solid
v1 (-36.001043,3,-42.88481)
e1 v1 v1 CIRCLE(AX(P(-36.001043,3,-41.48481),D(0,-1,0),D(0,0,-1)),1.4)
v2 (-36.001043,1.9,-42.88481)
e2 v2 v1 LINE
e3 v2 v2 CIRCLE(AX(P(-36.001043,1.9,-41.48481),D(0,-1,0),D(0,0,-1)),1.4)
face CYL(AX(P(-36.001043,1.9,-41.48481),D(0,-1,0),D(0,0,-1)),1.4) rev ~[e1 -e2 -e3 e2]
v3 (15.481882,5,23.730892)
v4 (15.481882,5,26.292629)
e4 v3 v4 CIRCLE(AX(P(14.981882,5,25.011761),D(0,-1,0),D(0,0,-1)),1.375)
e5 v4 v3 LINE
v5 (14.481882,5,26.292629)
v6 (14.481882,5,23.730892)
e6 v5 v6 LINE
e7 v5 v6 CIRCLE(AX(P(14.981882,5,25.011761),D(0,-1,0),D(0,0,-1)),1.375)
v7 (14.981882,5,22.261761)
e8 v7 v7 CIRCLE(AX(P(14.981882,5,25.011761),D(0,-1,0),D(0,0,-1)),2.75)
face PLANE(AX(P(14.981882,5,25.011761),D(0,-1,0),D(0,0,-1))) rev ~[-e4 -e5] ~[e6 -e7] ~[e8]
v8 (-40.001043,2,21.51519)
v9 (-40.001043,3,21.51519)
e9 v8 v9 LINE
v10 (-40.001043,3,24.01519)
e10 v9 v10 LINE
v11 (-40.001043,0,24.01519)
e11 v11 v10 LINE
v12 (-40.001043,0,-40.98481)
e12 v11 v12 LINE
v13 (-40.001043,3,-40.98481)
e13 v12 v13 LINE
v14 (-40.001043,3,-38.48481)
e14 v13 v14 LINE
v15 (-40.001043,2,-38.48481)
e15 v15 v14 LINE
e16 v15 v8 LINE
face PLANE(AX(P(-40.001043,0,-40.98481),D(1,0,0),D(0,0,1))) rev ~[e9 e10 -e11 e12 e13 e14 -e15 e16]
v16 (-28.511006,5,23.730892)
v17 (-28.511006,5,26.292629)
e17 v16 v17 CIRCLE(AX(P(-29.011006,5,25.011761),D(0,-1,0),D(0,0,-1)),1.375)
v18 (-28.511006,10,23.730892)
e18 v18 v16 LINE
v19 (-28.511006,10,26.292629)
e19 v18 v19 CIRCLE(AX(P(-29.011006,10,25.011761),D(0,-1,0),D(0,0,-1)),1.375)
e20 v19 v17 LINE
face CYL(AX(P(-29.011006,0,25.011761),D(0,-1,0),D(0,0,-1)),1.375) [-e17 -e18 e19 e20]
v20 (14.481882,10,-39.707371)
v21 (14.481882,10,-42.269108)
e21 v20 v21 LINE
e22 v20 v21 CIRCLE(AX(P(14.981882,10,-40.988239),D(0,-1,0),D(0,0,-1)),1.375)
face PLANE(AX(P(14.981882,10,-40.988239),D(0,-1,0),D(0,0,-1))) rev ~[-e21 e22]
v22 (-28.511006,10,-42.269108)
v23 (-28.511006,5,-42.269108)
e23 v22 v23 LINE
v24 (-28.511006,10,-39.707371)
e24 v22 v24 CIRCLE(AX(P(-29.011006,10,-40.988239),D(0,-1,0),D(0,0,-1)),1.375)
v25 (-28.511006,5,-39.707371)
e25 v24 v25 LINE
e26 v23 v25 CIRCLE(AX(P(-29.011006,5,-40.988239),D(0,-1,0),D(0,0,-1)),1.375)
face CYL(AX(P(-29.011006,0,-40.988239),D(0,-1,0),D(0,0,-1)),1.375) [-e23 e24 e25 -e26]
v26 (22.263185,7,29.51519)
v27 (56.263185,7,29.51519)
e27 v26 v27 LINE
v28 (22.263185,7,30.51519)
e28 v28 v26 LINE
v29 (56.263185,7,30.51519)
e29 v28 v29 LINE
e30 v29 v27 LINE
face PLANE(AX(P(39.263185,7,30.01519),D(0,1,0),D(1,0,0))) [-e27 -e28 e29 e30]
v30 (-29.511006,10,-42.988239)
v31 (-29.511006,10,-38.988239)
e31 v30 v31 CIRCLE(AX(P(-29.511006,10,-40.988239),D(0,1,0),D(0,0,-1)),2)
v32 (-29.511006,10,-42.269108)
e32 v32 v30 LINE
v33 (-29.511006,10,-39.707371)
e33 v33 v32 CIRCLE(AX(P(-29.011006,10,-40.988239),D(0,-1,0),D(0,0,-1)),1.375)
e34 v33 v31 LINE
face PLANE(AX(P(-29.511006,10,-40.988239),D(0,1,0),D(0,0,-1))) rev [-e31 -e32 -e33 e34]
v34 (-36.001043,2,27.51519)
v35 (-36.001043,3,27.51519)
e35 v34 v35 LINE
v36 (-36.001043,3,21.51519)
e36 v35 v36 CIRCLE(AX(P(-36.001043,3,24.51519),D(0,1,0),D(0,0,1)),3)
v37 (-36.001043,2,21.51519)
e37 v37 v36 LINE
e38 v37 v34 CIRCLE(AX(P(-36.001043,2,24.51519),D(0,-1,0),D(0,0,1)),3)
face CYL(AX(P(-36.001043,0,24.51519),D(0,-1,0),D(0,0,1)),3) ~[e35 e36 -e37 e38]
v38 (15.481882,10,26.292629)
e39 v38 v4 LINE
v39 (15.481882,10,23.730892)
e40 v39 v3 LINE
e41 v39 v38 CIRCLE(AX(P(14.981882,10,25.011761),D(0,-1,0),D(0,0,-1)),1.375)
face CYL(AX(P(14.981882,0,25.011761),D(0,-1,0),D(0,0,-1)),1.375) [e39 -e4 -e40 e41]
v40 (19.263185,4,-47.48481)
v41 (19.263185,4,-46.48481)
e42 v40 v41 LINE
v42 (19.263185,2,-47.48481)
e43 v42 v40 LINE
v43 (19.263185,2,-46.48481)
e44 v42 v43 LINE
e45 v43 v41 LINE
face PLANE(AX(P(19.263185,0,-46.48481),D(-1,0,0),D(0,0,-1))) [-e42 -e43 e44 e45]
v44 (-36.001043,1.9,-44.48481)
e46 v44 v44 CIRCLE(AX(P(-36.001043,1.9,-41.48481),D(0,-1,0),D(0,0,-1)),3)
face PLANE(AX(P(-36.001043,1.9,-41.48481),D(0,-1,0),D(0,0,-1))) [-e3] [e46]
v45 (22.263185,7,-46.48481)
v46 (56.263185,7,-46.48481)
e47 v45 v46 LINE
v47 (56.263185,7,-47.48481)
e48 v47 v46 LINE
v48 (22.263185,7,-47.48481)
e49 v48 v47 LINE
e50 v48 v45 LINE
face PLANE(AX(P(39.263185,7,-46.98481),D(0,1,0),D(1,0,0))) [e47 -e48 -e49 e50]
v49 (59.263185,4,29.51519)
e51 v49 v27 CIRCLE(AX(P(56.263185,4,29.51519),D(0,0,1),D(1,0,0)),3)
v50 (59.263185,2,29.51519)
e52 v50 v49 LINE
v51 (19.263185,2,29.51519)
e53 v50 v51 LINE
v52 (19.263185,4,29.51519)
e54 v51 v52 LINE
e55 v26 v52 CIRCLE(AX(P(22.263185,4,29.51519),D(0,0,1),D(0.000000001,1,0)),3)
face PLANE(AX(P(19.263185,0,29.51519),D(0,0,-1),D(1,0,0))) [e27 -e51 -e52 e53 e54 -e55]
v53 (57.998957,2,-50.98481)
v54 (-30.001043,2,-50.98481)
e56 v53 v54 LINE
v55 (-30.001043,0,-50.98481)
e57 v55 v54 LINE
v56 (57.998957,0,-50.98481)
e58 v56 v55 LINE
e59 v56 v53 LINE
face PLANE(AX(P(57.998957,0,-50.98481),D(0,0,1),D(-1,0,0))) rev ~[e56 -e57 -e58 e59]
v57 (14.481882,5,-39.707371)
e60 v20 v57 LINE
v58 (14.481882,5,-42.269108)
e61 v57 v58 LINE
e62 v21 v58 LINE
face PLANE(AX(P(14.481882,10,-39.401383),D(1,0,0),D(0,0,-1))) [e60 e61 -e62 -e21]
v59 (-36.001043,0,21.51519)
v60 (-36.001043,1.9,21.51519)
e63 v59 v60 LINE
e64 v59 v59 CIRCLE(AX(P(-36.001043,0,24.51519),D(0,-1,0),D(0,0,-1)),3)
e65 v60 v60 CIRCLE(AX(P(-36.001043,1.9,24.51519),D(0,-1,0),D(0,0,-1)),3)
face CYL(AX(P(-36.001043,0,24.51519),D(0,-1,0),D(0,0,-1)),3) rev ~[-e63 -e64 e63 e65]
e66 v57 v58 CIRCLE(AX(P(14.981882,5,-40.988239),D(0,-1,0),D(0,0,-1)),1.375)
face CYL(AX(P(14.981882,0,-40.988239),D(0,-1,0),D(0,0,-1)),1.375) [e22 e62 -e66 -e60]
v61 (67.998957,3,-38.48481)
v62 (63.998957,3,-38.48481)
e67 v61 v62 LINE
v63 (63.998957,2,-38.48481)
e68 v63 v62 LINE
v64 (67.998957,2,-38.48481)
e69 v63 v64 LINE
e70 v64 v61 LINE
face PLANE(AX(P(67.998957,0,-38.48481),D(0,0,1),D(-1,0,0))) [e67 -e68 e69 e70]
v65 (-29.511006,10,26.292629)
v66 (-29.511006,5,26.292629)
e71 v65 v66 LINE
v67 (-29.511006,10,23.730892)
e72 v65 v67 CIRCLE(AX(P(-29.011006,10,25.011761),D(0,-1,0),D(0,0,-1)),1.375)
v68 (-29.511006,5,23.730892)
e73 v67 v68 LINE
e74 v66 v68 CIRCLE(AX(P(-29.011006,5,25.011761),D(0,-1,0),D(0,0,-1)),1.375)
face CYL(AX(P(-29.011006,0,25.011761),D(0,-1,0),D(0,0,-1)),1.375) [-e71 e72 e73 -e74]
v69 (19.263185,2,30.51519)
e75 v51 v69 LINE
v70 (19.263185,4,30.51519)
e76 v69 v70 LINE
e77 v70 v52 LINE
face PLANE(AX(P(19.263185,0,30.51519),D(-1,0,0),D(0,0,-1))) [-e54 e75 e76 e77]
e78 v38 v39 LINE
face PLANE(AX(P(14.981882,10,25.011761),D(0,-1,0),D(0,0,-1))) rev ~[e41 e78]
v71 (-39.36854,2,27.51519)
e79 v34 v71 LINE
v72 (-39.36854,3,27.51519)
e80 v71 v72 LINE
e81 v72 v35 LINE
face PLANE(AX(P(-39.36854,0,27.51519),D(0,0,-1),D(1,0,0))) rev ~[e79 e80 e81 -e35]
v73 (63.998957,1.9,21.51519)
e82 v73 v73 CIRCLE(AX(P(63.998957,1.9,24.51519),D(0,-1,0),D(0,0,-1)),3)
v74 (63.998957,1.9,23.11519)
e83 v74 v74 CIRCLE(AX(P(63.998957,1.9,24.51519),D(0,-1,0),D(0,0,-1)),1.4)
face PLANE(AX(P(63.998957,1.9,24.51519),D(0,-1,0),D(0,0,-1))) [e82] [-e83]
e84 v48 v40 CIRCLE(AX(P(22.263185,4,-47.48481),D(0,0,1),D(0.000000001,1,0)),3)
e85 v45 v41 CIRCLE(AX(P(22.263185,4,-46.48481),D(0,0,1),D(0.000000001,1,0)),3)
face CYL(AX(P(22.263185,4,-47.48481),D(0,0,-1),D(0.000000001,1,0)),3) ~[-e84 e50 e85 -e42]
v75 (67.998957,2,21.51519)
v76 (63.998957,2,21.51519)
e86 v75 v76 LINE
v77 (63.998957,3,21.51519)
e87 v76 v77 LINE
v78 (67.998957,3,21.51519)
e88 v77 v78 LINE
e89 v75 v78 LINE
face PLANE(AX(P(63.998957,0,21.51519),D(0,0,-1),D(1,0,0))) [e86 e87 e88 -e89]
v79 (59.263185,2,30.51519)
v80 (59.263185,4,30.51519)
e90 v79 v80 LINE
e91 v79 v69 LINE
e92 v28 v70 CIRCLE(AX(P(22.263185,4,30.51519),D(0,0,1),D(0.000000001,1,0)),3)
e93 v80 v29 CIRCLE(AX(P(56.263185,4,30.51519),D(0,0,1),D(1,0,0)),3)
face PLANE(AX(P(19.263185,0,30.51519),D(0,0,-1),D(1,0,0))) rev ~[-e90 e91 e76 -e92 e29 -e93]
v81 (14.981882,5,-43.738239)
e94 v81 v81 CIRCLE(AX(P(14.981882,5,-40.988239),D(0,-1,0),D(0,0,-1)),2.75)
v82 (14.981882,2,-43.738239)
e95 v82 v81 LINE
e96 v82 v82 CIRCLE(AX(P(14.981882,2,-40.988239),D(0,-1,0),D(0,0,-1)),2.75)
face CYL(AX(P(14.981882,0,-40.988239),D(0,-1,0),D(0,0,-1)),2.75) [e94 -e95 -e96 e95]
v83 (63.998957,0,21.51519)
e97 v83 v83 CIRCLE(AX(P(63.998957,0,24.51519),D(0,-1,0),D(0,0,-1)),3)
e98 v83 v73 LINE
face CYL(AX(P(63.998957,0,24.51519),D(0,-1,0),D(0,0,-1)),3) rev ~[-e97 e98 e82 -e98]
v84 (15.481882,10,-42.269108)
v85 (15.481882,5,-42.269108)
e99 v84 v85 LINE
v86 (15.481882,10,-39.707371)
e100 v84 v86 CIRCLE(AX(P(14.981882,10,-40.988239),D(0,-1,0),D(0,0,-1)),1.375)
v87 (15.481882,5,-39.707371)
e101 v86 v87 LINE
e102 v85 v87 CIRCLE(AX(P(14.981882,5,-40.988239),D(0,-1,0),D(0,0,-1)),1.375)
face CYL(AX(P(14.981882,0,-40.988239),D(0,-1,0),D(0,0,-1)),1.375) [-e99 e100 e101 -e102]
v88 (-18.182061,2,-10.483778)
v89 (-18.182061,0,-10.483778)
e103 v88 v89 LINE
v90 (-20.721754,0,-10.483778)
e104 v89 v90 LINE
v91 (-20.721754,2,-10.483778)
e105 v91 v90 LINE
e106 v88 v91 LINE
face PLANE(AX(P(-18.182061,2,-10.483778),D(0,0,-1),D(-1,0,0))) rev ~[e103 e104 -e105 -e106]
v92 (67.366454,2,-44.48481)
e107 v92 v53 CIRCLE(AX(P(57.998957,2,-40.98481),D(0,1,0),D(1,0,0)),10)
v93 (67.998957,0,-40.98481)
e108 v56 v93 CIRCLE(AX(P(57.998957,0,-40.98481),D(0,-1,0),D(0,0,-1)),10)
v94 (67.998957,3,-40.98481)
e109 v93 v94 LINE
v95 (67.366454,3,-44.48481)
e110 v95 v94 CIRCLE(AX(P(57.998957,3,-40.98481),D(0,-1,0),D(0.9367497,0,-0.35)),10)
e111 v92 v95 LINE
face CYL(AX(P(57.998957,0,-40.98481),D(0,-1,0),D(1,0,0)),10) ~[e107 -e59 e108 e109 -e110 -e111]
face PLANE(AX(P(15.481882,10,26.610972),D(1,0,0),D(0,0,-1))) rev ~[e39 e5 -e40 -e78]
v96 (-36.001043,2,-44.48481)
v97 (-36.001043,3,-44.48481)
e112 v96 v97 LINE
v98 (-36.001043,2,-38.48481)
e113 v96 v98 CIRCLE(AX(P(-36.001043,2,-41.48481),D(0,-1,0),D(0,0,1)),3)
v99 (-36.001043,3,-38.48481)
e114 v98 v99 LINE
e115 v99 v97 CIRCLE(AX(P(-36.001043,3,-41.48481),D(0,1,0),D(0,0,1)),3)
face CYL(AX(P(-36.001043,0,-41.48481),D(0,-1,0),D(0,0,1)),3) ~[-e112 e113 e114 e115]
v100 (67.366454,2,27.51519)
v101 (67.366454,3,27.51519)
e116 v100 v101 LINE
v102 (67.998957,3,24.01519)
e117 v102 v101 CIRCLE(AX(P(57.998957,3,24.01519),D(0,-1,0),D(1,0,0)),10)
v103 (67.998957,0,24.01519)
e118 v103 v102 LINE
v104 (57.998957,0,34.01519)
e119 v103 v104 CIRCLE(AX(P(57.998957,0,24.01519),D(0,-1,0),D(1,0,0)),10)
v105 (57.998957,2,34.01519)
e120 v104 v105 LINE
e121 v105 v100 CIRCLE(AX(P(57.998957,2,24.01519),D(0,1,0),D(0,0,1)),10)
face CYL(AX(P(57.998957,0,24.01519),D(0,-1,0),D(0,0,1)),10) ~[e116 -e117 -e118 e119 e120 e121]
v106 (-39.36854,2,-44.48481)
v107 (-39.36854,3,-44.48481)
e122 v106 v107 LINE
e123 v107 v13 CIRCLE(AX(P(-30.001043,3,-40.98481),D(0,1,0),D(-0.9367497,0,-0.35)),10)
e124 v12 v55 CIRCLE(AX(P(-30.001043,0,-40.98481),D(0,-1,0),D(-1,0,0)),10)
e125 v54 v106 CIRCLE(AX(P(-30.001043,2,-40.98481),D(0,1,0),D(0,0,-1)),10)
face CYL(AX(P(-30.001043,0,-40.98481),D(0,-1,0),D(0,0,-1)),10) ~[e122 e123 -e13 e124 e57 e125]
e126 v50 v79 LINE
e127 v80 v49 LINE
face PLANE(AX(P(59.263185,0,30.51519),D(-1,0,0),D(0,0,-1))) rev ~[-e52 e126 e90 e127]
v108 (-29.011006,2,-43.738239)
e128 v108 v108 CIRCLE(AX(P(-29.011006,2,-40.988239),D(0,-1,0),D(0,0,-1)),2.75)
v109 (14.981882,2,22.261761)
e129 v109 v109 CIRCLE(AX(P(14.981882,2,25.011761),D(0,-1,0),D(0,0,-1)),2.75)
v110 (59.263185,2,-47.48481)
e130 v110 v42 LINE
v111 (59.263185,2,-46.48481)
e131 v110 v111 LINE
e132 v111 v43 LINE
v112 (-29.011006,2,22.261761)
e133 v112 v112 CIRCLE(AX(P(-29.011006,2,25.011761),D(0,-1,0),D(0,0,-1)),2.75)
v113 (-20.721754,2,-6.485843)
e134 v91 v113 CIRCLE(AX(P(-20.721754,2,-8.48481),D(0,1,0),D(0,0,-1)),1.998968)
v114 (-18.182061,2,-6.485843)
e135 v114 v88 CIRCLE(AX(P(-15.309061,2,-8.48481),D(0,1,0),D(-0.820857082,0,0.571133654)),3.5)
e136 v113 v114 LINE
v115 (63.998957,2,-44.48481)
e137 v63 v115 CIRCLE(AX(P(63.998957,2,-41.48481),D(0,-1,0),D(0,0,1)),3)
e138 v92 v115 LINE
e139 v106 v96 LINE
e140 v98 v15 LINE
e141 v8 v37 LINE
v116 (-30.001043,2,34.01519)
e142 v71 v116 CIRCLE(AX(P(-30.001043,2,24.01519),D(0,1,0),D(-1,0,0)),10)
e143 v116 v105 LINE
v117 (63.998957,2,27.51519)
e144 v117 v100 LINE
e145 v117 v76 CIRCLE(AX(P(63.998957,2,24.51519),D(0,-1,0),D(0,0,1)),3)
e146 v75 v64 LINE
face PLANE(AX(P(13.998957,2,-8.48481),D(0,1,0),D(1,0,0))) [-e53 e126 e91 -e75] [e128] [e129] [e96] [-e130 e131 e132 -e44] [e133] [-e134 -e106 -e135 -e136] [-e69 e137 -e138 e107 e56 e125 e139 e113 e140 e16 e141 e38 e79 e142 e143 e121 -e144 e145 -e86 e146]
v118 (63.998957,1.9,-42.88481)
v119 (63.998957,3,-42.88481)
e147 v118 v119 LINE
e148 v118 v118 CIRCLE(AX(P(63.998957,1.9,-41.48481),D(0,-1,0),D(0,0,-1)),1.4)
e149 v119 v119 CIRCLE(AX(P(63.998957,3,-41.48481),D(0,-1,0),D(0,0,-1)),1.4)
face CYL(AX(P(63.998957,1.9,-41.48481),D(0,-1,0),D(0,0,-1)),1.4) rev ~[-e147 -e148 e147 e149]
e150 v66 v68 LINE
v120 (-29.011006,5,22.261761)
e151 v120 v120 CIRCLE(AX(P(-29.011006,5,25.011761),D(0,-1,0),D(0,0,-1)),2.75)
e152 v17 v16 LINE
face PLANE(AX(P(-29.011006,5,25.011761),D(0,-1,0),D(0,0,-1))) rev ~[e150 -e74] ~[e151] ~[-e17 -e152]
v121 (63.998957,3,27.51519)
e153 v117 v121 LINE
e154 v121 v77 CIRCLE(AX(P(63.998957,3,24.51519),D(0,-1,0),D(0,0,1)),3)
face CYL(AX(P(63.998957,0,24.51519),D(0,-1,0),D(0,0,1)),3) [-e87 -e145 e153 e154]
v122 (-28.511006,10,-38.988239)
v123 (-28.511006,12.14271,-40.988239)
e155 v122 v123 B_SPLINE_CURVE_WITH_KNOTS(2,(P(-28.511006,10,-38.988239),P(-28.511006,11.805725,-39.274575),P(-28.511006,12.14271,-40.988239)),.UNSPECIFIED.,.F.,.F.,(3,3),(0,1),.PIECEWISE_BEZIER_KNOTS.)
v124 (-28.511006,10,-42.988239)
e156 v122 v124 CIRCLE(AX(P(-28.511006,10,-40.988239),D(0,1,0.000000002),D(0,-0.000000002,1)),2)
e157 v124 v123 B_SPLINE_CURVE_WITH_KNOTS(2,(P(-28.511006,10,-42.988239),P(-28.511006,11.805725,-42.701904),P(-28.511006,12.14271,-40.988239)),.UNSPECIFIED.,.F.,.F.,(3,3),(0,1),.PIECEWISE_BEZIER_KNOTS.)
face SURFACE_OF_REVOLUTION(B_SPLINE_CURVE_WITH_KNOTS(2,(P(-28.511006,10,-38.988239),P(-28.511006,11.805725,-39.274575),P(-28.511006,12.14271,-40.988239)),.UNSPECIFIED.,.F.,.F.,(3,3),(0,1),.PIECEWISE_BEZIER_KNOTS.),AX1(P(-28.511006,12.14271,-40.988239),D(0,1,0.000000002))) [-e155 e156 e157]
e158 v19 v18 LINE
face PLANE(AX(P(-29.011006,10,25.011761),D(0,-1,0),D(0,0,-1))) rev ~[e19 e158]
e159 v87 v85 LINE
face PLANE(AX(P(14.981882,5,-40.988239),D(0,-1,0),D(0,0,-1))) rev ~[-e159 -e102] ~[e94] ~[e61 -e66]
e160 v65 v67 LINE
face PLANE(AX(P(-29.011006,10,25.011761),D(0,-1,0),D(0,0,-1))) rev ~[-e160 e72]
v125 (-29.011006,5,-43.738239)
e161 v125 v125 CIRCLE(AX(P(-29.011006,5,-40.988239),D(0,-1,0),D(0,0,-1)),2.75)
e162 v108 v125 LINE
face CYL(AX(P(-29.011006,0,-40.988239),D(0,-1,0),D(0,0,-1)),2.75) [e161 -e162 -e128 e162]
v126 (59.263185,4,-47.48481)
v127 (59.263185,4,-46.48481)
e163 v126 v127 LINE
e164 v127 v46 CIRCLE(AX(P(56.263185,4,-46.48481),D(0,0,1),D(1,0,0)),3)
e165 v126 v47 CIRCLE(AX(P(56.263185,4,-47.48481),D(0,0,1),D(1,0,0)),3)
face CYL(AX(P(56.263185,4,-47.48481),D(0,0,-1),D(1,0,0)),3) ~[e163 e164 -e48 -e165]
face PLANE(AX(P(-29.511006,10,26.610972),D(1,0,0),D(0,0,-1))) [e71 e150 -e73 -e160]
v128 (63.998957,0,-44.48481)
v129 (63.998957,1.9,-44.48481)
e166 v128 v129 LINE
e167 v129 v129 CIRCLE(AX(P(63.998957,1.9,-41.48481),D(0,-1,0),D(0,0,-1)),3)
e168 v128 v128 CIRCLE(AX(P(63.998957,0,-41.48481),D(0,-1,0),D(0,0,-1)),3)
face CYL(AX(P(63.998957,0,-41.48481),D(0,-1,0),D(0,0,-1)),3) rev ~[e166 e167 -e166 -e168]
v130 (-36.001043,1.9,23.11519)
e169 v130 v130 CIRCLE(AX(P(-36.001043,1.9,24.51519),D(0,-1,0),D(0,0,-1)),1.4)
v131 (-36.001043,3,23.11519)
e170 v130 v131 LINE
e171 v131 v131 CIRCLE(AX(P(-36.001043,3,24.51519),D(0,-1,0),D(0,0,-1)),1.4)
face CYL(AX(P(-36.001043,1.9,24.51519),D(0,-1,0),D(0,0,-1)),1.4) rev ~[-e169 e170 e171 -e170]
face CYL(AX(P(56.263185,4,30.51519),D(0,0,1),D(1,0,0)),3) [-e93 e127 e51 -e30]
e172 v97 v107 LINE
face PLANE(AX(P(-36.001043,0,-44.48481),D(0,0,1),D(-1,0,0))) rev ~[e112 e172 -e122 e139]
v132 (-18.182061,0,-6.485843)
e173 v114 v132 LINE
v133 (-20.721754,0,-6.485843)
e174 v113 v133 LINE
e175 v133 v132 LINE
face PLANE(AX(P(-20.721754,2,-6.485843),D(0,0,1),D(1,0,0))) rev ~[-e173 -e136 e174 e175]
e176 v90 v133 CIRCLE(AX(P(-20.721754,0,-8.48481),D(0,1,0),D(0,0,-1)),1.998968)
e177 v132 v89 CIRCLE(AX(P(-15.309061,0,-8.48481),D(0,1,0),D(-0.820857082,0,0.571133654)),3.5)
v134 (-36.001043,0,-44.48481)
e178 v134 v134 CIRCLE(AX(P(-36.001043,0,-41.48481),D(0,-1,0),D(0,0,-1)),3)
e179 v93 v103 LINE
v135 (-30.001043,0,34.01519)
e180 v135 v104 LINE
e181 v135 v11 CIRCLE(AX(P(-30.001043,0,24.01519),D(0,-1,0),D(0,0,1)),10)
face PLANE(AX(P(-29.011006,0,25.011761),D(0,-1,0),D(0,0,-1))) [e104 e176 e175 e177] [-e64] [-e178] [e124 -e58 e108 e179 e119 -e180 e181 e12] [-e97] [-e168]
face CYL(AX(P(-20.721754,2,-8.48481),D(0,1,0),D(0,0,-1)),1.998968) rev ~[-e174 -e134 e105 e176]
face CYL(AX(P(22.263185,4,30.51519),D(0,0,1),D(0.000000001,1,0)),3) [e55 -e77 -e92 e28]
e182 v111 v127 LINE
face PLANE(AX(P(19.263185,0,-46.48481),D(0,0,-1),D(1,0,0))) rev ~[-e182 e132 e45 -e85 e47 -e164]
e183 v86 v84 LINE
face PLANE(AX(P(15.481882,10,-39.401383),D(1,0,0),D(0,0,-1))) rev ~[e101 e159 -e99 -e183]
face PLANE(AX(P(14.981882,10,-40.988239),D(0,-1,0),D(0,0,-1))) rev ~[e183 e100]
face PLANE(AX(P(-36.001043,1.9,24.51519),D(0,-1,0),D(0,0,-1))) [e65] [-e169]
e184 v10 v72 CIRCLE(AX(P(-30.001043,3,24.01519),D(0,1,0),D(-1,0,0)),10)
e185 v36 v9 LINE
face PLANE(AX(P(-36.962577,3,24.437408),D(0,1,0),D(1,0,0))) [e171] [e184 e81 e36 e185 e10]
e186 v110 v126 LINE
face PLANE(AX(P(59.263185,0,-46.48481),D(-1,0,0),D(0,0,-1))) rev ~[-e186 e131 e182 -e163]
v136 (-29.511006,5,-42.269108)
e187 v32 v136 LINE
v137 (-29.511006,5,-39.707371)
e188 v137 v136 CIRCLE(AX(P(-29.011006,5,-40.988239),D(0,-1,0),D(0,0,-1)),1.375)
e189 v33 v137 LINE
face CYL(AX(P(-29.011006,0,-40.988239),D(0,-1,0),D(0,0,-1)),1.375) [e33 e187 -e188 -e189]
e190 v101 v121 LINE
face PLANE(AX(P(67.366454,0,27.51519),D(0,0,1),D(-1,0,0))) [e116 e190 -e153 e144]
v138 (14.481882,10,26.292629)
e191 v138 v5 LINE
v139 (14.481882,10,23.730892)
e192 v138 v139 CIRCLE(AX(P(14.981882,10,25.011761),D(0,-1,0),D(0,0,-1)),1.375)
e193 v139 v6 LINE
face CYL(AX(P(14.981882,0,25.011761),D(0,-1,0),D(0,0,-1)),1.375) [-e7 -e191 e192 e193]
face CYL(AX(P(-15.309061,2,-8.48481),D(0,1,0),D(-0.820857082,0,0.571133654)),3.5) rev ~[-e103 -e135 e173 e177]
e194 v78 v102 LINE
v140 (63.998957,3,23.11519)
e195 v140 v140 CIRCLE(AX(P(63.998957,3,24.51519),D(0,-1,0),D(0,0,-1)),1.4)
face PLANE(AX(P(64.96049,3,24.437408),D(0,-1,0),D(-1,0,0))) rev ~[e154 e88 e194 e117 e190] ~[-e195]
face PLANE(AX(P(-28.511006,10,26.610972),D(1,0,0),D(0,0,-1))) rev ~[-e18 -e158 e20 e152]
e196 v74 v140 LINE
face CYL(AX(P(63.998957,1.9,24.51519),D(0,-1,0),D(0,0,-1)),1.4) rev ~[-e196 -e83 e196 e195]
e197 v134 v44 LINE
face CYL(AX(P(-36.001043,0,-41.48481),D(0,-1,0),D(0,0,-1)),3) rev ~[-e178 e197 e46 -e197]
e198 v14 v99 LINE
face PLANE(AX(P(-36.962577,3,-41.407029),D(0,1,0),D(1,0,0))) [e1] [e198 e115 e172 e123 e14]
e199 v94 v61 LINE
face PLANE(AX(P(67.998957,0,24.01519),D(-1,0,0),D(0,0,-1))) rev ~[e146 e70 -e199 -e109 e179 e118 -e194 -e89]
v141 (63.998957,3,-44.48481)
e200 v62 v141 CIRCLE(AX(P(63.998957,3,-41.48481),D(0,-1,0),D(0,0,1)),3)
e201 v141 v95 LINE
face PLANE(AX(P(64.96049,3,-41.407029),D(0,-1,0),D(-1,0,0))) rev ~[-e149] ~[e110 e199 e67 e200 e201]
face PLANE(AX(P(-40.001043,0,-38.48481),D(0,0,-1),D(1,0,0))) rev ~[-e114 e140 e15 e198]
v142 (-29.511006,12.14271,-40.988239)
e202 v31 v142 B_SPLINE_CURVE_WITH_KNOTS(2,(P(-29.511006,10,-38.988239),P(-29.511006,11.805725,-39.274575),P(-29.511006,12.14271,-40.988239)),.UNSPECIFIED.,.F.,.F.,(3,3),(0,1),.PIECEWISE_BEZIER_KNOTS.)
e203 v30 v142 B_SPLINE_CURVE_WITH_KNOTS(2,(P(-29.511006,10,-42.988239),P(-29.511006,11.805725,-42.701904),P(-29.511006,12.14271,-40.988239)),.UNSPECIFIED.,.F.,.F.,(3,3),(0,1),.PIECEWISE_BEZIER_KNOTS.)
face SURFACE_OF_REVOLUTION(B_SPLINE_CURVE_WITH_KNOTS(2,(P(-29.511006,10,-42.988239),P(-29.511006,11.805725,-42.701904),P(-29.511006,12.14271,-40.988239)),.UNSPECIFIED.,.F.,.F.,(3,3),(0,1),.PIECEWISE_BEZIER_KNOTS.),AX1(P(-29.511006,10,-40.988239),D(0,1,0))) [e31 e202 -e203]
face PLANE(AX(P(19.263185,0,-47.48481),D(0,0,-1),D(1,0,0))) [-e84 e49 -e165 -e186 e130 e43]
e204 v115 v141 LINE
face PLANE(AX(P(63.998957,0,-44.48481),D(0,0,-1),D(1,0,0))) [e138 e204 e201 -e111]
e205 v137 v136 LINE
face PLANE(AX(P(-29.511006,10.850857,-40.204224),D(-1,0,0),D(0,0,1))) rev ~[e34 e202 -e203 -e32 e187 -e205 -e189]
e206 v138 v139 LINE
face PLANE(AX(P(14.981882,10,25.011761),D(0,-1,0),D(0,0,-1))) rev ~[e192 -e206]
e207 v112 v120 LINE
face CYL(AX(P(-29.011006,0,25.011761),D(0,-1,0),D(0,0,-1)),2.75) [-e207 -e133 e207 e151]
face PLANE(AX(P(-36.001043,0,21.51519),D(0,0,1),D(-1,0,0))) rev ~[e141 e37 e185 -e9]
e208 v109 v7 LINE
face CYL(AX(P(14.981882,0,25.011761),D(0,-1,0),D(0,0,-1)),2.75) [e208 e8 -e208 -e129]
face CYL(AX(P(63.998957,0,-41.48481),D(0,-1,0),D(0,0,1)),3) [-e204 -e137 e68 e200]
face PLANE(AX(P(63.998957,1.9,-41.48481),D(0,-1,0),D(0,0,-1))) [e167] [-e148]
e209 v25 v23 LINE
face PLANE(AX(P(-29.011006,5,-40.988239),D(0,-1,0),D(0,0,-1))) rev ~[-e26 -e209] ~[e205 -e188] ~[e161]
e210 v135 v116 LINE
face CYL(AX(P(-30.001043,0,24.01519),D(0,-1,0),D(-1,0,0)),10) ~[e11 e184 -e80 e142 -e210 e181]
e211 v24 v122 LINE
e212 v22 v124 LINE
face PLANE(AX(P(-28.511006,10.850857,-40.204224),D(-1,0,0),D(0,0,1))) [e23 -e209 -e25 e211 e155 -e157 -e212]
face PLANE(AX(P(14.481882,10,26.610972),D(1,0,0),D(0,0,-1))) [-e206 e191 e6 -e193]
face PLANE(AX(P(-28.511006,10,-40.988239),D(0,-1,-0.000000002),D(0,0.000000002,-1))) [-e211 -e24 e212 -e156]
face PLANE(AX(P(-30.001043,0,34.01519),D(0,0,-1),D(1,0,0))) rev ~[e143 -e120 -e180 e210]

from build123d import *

# Parameters (mm, degrees)
BOSS_EXTRUDE2_DEPTH = 2
CUT_EXTRUDE2_DEPTH  = 7
SKETCH10_W          = 40
SKETCH10_H          = 1
BOSS_EXTRUDE3_DEPTH = 7
CUT_EXTRUDE4_DEPTH  = 1
CUT_EXTRUDE5_DEPTH  = 1
SKETCH14_R          = 1.375
BOSS_EXTRUDE4_DEPTH = 10
SKETCH15_R          = 2.75
BOSS_EXTRUDE5_DEPTH = 5
BOSS_EXTRUDE8_DEPTH = 3
SKETCH21_R          = 3
CUT_EXTRUDE7_DEPTH  = 1.9
SKETCH22_R          = 1.4
CUT_EXTRUDE8_DEPTH  = 15
SKETCH24_W          = 1
SKETCH24_H          = 3.418232964
SKETCH24_H_2        = 3.173713674
SKETCH24_H_3        = 3.19842194
CUT_EXTRUDE10_DEPTH = 5
REVOLVE1_ANGLE      = 180
REVOLVE2_ANGLE      = 180


with BuildPart() as part:
    # Sketch3 → Boss-Extrude2 (new body)
    with BuildSketch(Plane(origin=(0, 0, 0), x_dir=(1, 0, 0), z_dir=(0, 1, 0))):
        with BuildLine():
            Line((-30.001043465, -34.015189653), (57.998956535, -34.015189653))
            ThreePointArc((57.998956535, -34.015189653), (65.070024347, -31.086257464), (67.998956535, -24.015189653))
            Line((67.998956535, -24.015189653), (67.998956535, 40.984810347))
            ThreePointArc((67.998956535, 40.984810347), (65.070024347, 48.055878159), (57.998956535, 50.984810347))
            Line((57.998956535, 50.984810347), (-30.001043465, 50.984810347))
            ThreePointArc((-30.001043465, 50.984810347), (-37.072111277, 48.055878159), (-40.001043465, 40.984810347))
            Line((-40.001043465, 40.984810347), (-40.001043465, -24.015189653))
            ThreePointArc((-40.001043465, -24.015189653), (-37.072111277, -31.086257464), (-30.001043465, -34.015189653))
        make_face()
    extrude(amount=BOSS_EXTRUDE2_DEPTH)

    # Sketch6 → Cut-Extrude2 (cut)
    with BuildSketch(Plane(origin=(0, 2, 0), x_dir=(1, 0, 0), z_dir=(0, 1, 0))):
        with BuildLine():
            Line((-18.182060551, 10.483778137), (-20.721753803, 10.483778137))
            ThreePointArc((-20.721753803, 10.483778137), (-22.720721593, 8.484810347), (-20.721753803, 6.485842558))
            Line((-20.721753803, 6.485842558), (-18.182060551, 6.485842558))
            ThreePointArc((-18.182060551, 6.485842558), (-11.809060764, 8.484810347), (-18.182060551, 10.483778137))
        make_face()
    extrude(amount=-CUT_EXTRUDE2_DEPTH, mode=Mode.SUBTRACT)

    # Sketch10 → Boss-Extrude3 (add)
    with BuildSketch(Plane(origin=(0, 0, 0), x_dir=(1, 0, 0), z_dir=(0, 1, 0))):
        with Locations((39.263184903, 46.984810347)):
            Rectangle(SKETCH10_W, SKETCH10_H)
        with Locations((39.263184903, -30.015189653)):
            Rectangle(SKETCH10_W, SKETCH10_H)
    extrude(amount=BOSS_EXTRUDE3_DEPTH)

    # Sketch12 → Cut-Extrude4 (cut)
    with BuildSketch(Plane.XY.offset(30.515189653)):
        with BuildLine():
            Line((56.263184903, 7), (59.263184903, 7))
            Line((59.263184903, 7), (59.263184903, 4))
            ThreePointArc((59.263184903, 4), (58.384505246, 6.121320344), (56.263184903, 7))
        make_face()
        with BuildLine():
            Line((19.263184903, 4), (19.263184903, 7))
            Line((19.263184903, 7), (22.263184903, 7))
            ThreePointArc((22.263184903, 7), (20.141864559, 6.121320344), (19.263184903, 4))
        make_face()
    extrude(amount=-CUT_EXTRUDE4_DEPTH, mode=Mode.SUBTRACT)

    # Sketch13 → Cut-Extrude5 (cut)
    with BuildSketch(Plane(origin=(0, 0, -47.484810347), x_dir=(-1, 0, 0), z_dir=(0, 0, -1))):
        with BuildLine():
            Line((-56.263184903, 7), (-59.263184903, 7))
            Line((-59.263184903, 7), (-59.263184903, 4))
            ThreePointArc((-59.263184903, 4), (-58.384505246, 6.121320344), (-56.263184903, 7))
        make_face()
        with BuildLine():
            Line((-19.263184903, 4), (-19.263184903, 7))
            Line((-19.263184903, 7), (-22.263184903, 7))
            ThreePointArc((-22.263184903, 7), (-20.141864559, 6.121320344), (-19.263184903, 4))
        make_face()
    extrude(amount=-CUT_EXTRUDE5_DEPTH, mode=Mode.SUBTRACT)

    # Sketch14 → Boss-Extrude4 (add)
    with BuildSketch(Plane.XZ):
        with Locations(Location((-29.011006112, 25.011760646, 0), (0, 0, 270))):
            Circle(SKETCH14_R)
        with Locations(Location((14.981881874, 25.011760646, 0), (0, 0, 270))):
            Circle(SKETCH14_R)
        with Locations(Location((14.981881874, -40.988239354, 0), (0, 0, 270))):
            Circle(SKETCH14_R)
        with Locations(Location((-29.011006112, -40.988239354, 0), (0, 0, 270))):
            Circle(SKETCH14_R)
    extrude(amount=-BOSS_EXTRUDE4_DEPTH)

    # Sketch15 → Boss-Extrude5 (add)
    with BuildSketch(Plane.XZ):
        with Locations(Location((-29.011006112, 25.011760646, 0), (0, 0, 270))):
            Circle(SKETCH15_R)
        with Locations(Location((14.981881874, 25.011760646, 0), (0, 0, 270))):
            Circle(SKETCH15_R)
        with Locations(Location((14.981881874, -40.988239354, 0), (0, 0, 270))):
            Circle(SKETCH15_R)
        with Locations(Location((-29.011006112, -40.988239354, 0), (0, 0, 270))):
            Circle(SKETCH15_R)
    extrude(amount=-BOSS_EXTRUDE5_DEPTH)

    # Sketch5 → Boss-Extrude8 (add)
    with BuildSketch(Plane(origin=(0, 0, 34.015189653), x_dir=(1, 0, 0), z_dir=(0, 1, 0))):
        with BuildLine():
            Line((-36.001043465, 78.5), (-39.368540462, 78.5))
            ThreePointArc((-39.368540462, 78.5), (-39.841647358, 76.778346145), (-40.001043465, 75))
            Line((-40.001043465, 75), (-40.001043465, 72.5))
            Line((-40.001043465, 72.5), (-36.001043465, 72.5))
            ThreePointArc((-36.001043465, 72.5), (-33.001043465, 75.5), (-36.001043465, 78.5))
        make_face()
        with BuildLine():
            Line((63.998956535, 78.5), (67.366453533, 78.5))
            ThreePointArc((67.366453533, 78.5), (67.839560429, 76.778346145), (67.998956535, 75))
            Line((67.998956535, 75), (67.998956535, 72.5))
            Line((67.998956535, 72.5), (63.998956535, 72.5))
            ThreePointArc((63.998956535, 72.5), (60.998956535, 75.5), (63.998956535, 78.5))
        make_face()
        with BuildLine():
            Line((63.998956535, 12.5), (67.998956535, 12.5))
            Line((67.998956535, 12.5), (67.998956535, 10))
            ThreePointArc((67.998956535, 10), (67.839560429, 8.221653855), (67.366453533, 6.5))
            Line((67.366453533, 6.5), (63.998956535, 6.5))
            ThreePointArc((63.998956535, 6.5), (60.998956535, 9.5), (63.998956535, 12.5))
        make_face()
        with BuildLine():
            Line((-36.001043465, 12.5), (-40.001043465, 12.5))
            Line((-40.001043465, 12.5), (-40.001043465, 10))
            ThreePointArc((-40.001043465, 10), (-39.841647358, 8.221653855), (-39.368540462, 6.5))
            Line((-39.368540462, 6.5), (-36.001043465, 6.5))
            ThreePointArc((-36.001043465, 6.5), (-33.001043465, 9.5), (-36.001043465, 12.5))
        make_face()
    extrude(amount=BOSS_EXTRUDE8_DEPTH)

    # Sketch21 → Cut-Extrude7 (cut)
    with BuildSketch(Plane.XZ):
        with Locations(Location((-36.001043465, 24.515189653, 0), (0, 0, 270))):
            Circle(SKETCH21_R)
        with Locations(Location((63.998956535, 24.515189653, 0), (0, 0, 270))):
            Circle(SKETCH21_R)
        with Locations(Location((63.998956535, -41.484810347, 0), (0, 0, 270))):
            Circle(SKETCH21_R)
        with Locations(Location((-36.001043465, -41.484810347, 0), (0, 0, 270))):
            Circle(SKETCH21_R)
    extrude(amount=-CUT_EXTRUDE7_DEPTH, mode=Mode.SUBTRACT)

    # Sketch22 → Cut-Extrude8 (cut)
    with BuildSketch(Plane.XZ.offset(-1.9)):
        with Locations(Location((-36.001043465, 24.515189653, 0), (0, 0, 270))):
            Circle(SKETCH22_R)
        with Locations(Location((63.998956535, 24.515189653, 0), (0, 0, 270))):
            Circle(SKETCH22_R)
        with Locations(Location((63.998956535, -41.484810347, 0), (0, 0, 270))):
            Circle(SKETCH22_R)
        with Locations(Location((-36.001043465, -41.484810347, 0), (0, 0, 270))):
            Circle(SKETCH22_R)
    extrude(amount=-CUT_EXTRUDE8_DEPTH, mode=Mode.SUBTRACT)

    # Sketch24 → Cut-Extrude10 (cut)
    with BuildSketch(Plane(origin=(0, 10, 0), x_dir=(1, 0, 0), z_dir=(0, 1, 0))):
        with Locations((-29.011006112, 40.988239354)):
            Rectangle(SKETCH24_W, SKETCH24_H)
        with Locations((14.981881874, 40.988239354)):
            Rectangle(SKETCH24_W, SKETCH24_H_2)
        with Locations((14.981881874, -25.011760646)):
            Rectangle(SKETCH24_W, SKETCH24_H_3)
        with Locations((-29.011006112, -25.011760646)):
            Rectangle(SKETCH24_W, SKETCH24_H_3)
    extrude(amount=-CUT_EXTRUDE10_DEPTH, mode=Mode.SUBTRACT)

    # Sketch27 → Revolve1 (revolve)
    with BuildSketch(Plane(origin=(-29.511006112, 0, 0), x_dir=(0, 0, -1), z_dir=(1, 0, 0))):
        with BuildLine():
            Line((40.988239354, 10), (42.988239354, 10))
            add(Edge.make_bspline(
                [(42.988239354, 10), (42.701903719, 11.805725315), (40.988239354, 12.142709999)],
                knots=[0, 0, 0, 1, 1, 1], degree=2))
            Line((40.988239354, 12.142709999), (40.988239354, 10))
        make_face()
    revolve(axis=Axis((-29.511006112, 10, -40.988239354), (0, 1, 0)), revolution_arc=REVOLVE1_ANGLE)

    # Sketch28 → Revolve2 (revolve)
    with BuildSketch(Plane.ZY.offset(28.511006112)):
        with BuildLine():
            add(Edge.make_bspline(
                [(-38.988239352, 9.999999987), (-39.274574983, 11.805725311), (-40.98823935, 12.142709998)],
                knots=[0, 0, 0, 1, 1, 1], degree=2))
            Line((-40.98823935, 12.142709998), (-40.988239354, 10))
            Line((-40.988239354, 9.999999993), (-39.707370508, 9.999999989))
            Line((-39.707370508, 9.999999989), (-38.988239352, 9.999999987))
        make_face()
    revolve(axis=Axis((-28.511006112, 12.142709998, -40.98823935), (0, 1.0, 2.1018108519828045e-09)), revolution_arc=REVOLVE2_ANGLE)


solid = part.part
